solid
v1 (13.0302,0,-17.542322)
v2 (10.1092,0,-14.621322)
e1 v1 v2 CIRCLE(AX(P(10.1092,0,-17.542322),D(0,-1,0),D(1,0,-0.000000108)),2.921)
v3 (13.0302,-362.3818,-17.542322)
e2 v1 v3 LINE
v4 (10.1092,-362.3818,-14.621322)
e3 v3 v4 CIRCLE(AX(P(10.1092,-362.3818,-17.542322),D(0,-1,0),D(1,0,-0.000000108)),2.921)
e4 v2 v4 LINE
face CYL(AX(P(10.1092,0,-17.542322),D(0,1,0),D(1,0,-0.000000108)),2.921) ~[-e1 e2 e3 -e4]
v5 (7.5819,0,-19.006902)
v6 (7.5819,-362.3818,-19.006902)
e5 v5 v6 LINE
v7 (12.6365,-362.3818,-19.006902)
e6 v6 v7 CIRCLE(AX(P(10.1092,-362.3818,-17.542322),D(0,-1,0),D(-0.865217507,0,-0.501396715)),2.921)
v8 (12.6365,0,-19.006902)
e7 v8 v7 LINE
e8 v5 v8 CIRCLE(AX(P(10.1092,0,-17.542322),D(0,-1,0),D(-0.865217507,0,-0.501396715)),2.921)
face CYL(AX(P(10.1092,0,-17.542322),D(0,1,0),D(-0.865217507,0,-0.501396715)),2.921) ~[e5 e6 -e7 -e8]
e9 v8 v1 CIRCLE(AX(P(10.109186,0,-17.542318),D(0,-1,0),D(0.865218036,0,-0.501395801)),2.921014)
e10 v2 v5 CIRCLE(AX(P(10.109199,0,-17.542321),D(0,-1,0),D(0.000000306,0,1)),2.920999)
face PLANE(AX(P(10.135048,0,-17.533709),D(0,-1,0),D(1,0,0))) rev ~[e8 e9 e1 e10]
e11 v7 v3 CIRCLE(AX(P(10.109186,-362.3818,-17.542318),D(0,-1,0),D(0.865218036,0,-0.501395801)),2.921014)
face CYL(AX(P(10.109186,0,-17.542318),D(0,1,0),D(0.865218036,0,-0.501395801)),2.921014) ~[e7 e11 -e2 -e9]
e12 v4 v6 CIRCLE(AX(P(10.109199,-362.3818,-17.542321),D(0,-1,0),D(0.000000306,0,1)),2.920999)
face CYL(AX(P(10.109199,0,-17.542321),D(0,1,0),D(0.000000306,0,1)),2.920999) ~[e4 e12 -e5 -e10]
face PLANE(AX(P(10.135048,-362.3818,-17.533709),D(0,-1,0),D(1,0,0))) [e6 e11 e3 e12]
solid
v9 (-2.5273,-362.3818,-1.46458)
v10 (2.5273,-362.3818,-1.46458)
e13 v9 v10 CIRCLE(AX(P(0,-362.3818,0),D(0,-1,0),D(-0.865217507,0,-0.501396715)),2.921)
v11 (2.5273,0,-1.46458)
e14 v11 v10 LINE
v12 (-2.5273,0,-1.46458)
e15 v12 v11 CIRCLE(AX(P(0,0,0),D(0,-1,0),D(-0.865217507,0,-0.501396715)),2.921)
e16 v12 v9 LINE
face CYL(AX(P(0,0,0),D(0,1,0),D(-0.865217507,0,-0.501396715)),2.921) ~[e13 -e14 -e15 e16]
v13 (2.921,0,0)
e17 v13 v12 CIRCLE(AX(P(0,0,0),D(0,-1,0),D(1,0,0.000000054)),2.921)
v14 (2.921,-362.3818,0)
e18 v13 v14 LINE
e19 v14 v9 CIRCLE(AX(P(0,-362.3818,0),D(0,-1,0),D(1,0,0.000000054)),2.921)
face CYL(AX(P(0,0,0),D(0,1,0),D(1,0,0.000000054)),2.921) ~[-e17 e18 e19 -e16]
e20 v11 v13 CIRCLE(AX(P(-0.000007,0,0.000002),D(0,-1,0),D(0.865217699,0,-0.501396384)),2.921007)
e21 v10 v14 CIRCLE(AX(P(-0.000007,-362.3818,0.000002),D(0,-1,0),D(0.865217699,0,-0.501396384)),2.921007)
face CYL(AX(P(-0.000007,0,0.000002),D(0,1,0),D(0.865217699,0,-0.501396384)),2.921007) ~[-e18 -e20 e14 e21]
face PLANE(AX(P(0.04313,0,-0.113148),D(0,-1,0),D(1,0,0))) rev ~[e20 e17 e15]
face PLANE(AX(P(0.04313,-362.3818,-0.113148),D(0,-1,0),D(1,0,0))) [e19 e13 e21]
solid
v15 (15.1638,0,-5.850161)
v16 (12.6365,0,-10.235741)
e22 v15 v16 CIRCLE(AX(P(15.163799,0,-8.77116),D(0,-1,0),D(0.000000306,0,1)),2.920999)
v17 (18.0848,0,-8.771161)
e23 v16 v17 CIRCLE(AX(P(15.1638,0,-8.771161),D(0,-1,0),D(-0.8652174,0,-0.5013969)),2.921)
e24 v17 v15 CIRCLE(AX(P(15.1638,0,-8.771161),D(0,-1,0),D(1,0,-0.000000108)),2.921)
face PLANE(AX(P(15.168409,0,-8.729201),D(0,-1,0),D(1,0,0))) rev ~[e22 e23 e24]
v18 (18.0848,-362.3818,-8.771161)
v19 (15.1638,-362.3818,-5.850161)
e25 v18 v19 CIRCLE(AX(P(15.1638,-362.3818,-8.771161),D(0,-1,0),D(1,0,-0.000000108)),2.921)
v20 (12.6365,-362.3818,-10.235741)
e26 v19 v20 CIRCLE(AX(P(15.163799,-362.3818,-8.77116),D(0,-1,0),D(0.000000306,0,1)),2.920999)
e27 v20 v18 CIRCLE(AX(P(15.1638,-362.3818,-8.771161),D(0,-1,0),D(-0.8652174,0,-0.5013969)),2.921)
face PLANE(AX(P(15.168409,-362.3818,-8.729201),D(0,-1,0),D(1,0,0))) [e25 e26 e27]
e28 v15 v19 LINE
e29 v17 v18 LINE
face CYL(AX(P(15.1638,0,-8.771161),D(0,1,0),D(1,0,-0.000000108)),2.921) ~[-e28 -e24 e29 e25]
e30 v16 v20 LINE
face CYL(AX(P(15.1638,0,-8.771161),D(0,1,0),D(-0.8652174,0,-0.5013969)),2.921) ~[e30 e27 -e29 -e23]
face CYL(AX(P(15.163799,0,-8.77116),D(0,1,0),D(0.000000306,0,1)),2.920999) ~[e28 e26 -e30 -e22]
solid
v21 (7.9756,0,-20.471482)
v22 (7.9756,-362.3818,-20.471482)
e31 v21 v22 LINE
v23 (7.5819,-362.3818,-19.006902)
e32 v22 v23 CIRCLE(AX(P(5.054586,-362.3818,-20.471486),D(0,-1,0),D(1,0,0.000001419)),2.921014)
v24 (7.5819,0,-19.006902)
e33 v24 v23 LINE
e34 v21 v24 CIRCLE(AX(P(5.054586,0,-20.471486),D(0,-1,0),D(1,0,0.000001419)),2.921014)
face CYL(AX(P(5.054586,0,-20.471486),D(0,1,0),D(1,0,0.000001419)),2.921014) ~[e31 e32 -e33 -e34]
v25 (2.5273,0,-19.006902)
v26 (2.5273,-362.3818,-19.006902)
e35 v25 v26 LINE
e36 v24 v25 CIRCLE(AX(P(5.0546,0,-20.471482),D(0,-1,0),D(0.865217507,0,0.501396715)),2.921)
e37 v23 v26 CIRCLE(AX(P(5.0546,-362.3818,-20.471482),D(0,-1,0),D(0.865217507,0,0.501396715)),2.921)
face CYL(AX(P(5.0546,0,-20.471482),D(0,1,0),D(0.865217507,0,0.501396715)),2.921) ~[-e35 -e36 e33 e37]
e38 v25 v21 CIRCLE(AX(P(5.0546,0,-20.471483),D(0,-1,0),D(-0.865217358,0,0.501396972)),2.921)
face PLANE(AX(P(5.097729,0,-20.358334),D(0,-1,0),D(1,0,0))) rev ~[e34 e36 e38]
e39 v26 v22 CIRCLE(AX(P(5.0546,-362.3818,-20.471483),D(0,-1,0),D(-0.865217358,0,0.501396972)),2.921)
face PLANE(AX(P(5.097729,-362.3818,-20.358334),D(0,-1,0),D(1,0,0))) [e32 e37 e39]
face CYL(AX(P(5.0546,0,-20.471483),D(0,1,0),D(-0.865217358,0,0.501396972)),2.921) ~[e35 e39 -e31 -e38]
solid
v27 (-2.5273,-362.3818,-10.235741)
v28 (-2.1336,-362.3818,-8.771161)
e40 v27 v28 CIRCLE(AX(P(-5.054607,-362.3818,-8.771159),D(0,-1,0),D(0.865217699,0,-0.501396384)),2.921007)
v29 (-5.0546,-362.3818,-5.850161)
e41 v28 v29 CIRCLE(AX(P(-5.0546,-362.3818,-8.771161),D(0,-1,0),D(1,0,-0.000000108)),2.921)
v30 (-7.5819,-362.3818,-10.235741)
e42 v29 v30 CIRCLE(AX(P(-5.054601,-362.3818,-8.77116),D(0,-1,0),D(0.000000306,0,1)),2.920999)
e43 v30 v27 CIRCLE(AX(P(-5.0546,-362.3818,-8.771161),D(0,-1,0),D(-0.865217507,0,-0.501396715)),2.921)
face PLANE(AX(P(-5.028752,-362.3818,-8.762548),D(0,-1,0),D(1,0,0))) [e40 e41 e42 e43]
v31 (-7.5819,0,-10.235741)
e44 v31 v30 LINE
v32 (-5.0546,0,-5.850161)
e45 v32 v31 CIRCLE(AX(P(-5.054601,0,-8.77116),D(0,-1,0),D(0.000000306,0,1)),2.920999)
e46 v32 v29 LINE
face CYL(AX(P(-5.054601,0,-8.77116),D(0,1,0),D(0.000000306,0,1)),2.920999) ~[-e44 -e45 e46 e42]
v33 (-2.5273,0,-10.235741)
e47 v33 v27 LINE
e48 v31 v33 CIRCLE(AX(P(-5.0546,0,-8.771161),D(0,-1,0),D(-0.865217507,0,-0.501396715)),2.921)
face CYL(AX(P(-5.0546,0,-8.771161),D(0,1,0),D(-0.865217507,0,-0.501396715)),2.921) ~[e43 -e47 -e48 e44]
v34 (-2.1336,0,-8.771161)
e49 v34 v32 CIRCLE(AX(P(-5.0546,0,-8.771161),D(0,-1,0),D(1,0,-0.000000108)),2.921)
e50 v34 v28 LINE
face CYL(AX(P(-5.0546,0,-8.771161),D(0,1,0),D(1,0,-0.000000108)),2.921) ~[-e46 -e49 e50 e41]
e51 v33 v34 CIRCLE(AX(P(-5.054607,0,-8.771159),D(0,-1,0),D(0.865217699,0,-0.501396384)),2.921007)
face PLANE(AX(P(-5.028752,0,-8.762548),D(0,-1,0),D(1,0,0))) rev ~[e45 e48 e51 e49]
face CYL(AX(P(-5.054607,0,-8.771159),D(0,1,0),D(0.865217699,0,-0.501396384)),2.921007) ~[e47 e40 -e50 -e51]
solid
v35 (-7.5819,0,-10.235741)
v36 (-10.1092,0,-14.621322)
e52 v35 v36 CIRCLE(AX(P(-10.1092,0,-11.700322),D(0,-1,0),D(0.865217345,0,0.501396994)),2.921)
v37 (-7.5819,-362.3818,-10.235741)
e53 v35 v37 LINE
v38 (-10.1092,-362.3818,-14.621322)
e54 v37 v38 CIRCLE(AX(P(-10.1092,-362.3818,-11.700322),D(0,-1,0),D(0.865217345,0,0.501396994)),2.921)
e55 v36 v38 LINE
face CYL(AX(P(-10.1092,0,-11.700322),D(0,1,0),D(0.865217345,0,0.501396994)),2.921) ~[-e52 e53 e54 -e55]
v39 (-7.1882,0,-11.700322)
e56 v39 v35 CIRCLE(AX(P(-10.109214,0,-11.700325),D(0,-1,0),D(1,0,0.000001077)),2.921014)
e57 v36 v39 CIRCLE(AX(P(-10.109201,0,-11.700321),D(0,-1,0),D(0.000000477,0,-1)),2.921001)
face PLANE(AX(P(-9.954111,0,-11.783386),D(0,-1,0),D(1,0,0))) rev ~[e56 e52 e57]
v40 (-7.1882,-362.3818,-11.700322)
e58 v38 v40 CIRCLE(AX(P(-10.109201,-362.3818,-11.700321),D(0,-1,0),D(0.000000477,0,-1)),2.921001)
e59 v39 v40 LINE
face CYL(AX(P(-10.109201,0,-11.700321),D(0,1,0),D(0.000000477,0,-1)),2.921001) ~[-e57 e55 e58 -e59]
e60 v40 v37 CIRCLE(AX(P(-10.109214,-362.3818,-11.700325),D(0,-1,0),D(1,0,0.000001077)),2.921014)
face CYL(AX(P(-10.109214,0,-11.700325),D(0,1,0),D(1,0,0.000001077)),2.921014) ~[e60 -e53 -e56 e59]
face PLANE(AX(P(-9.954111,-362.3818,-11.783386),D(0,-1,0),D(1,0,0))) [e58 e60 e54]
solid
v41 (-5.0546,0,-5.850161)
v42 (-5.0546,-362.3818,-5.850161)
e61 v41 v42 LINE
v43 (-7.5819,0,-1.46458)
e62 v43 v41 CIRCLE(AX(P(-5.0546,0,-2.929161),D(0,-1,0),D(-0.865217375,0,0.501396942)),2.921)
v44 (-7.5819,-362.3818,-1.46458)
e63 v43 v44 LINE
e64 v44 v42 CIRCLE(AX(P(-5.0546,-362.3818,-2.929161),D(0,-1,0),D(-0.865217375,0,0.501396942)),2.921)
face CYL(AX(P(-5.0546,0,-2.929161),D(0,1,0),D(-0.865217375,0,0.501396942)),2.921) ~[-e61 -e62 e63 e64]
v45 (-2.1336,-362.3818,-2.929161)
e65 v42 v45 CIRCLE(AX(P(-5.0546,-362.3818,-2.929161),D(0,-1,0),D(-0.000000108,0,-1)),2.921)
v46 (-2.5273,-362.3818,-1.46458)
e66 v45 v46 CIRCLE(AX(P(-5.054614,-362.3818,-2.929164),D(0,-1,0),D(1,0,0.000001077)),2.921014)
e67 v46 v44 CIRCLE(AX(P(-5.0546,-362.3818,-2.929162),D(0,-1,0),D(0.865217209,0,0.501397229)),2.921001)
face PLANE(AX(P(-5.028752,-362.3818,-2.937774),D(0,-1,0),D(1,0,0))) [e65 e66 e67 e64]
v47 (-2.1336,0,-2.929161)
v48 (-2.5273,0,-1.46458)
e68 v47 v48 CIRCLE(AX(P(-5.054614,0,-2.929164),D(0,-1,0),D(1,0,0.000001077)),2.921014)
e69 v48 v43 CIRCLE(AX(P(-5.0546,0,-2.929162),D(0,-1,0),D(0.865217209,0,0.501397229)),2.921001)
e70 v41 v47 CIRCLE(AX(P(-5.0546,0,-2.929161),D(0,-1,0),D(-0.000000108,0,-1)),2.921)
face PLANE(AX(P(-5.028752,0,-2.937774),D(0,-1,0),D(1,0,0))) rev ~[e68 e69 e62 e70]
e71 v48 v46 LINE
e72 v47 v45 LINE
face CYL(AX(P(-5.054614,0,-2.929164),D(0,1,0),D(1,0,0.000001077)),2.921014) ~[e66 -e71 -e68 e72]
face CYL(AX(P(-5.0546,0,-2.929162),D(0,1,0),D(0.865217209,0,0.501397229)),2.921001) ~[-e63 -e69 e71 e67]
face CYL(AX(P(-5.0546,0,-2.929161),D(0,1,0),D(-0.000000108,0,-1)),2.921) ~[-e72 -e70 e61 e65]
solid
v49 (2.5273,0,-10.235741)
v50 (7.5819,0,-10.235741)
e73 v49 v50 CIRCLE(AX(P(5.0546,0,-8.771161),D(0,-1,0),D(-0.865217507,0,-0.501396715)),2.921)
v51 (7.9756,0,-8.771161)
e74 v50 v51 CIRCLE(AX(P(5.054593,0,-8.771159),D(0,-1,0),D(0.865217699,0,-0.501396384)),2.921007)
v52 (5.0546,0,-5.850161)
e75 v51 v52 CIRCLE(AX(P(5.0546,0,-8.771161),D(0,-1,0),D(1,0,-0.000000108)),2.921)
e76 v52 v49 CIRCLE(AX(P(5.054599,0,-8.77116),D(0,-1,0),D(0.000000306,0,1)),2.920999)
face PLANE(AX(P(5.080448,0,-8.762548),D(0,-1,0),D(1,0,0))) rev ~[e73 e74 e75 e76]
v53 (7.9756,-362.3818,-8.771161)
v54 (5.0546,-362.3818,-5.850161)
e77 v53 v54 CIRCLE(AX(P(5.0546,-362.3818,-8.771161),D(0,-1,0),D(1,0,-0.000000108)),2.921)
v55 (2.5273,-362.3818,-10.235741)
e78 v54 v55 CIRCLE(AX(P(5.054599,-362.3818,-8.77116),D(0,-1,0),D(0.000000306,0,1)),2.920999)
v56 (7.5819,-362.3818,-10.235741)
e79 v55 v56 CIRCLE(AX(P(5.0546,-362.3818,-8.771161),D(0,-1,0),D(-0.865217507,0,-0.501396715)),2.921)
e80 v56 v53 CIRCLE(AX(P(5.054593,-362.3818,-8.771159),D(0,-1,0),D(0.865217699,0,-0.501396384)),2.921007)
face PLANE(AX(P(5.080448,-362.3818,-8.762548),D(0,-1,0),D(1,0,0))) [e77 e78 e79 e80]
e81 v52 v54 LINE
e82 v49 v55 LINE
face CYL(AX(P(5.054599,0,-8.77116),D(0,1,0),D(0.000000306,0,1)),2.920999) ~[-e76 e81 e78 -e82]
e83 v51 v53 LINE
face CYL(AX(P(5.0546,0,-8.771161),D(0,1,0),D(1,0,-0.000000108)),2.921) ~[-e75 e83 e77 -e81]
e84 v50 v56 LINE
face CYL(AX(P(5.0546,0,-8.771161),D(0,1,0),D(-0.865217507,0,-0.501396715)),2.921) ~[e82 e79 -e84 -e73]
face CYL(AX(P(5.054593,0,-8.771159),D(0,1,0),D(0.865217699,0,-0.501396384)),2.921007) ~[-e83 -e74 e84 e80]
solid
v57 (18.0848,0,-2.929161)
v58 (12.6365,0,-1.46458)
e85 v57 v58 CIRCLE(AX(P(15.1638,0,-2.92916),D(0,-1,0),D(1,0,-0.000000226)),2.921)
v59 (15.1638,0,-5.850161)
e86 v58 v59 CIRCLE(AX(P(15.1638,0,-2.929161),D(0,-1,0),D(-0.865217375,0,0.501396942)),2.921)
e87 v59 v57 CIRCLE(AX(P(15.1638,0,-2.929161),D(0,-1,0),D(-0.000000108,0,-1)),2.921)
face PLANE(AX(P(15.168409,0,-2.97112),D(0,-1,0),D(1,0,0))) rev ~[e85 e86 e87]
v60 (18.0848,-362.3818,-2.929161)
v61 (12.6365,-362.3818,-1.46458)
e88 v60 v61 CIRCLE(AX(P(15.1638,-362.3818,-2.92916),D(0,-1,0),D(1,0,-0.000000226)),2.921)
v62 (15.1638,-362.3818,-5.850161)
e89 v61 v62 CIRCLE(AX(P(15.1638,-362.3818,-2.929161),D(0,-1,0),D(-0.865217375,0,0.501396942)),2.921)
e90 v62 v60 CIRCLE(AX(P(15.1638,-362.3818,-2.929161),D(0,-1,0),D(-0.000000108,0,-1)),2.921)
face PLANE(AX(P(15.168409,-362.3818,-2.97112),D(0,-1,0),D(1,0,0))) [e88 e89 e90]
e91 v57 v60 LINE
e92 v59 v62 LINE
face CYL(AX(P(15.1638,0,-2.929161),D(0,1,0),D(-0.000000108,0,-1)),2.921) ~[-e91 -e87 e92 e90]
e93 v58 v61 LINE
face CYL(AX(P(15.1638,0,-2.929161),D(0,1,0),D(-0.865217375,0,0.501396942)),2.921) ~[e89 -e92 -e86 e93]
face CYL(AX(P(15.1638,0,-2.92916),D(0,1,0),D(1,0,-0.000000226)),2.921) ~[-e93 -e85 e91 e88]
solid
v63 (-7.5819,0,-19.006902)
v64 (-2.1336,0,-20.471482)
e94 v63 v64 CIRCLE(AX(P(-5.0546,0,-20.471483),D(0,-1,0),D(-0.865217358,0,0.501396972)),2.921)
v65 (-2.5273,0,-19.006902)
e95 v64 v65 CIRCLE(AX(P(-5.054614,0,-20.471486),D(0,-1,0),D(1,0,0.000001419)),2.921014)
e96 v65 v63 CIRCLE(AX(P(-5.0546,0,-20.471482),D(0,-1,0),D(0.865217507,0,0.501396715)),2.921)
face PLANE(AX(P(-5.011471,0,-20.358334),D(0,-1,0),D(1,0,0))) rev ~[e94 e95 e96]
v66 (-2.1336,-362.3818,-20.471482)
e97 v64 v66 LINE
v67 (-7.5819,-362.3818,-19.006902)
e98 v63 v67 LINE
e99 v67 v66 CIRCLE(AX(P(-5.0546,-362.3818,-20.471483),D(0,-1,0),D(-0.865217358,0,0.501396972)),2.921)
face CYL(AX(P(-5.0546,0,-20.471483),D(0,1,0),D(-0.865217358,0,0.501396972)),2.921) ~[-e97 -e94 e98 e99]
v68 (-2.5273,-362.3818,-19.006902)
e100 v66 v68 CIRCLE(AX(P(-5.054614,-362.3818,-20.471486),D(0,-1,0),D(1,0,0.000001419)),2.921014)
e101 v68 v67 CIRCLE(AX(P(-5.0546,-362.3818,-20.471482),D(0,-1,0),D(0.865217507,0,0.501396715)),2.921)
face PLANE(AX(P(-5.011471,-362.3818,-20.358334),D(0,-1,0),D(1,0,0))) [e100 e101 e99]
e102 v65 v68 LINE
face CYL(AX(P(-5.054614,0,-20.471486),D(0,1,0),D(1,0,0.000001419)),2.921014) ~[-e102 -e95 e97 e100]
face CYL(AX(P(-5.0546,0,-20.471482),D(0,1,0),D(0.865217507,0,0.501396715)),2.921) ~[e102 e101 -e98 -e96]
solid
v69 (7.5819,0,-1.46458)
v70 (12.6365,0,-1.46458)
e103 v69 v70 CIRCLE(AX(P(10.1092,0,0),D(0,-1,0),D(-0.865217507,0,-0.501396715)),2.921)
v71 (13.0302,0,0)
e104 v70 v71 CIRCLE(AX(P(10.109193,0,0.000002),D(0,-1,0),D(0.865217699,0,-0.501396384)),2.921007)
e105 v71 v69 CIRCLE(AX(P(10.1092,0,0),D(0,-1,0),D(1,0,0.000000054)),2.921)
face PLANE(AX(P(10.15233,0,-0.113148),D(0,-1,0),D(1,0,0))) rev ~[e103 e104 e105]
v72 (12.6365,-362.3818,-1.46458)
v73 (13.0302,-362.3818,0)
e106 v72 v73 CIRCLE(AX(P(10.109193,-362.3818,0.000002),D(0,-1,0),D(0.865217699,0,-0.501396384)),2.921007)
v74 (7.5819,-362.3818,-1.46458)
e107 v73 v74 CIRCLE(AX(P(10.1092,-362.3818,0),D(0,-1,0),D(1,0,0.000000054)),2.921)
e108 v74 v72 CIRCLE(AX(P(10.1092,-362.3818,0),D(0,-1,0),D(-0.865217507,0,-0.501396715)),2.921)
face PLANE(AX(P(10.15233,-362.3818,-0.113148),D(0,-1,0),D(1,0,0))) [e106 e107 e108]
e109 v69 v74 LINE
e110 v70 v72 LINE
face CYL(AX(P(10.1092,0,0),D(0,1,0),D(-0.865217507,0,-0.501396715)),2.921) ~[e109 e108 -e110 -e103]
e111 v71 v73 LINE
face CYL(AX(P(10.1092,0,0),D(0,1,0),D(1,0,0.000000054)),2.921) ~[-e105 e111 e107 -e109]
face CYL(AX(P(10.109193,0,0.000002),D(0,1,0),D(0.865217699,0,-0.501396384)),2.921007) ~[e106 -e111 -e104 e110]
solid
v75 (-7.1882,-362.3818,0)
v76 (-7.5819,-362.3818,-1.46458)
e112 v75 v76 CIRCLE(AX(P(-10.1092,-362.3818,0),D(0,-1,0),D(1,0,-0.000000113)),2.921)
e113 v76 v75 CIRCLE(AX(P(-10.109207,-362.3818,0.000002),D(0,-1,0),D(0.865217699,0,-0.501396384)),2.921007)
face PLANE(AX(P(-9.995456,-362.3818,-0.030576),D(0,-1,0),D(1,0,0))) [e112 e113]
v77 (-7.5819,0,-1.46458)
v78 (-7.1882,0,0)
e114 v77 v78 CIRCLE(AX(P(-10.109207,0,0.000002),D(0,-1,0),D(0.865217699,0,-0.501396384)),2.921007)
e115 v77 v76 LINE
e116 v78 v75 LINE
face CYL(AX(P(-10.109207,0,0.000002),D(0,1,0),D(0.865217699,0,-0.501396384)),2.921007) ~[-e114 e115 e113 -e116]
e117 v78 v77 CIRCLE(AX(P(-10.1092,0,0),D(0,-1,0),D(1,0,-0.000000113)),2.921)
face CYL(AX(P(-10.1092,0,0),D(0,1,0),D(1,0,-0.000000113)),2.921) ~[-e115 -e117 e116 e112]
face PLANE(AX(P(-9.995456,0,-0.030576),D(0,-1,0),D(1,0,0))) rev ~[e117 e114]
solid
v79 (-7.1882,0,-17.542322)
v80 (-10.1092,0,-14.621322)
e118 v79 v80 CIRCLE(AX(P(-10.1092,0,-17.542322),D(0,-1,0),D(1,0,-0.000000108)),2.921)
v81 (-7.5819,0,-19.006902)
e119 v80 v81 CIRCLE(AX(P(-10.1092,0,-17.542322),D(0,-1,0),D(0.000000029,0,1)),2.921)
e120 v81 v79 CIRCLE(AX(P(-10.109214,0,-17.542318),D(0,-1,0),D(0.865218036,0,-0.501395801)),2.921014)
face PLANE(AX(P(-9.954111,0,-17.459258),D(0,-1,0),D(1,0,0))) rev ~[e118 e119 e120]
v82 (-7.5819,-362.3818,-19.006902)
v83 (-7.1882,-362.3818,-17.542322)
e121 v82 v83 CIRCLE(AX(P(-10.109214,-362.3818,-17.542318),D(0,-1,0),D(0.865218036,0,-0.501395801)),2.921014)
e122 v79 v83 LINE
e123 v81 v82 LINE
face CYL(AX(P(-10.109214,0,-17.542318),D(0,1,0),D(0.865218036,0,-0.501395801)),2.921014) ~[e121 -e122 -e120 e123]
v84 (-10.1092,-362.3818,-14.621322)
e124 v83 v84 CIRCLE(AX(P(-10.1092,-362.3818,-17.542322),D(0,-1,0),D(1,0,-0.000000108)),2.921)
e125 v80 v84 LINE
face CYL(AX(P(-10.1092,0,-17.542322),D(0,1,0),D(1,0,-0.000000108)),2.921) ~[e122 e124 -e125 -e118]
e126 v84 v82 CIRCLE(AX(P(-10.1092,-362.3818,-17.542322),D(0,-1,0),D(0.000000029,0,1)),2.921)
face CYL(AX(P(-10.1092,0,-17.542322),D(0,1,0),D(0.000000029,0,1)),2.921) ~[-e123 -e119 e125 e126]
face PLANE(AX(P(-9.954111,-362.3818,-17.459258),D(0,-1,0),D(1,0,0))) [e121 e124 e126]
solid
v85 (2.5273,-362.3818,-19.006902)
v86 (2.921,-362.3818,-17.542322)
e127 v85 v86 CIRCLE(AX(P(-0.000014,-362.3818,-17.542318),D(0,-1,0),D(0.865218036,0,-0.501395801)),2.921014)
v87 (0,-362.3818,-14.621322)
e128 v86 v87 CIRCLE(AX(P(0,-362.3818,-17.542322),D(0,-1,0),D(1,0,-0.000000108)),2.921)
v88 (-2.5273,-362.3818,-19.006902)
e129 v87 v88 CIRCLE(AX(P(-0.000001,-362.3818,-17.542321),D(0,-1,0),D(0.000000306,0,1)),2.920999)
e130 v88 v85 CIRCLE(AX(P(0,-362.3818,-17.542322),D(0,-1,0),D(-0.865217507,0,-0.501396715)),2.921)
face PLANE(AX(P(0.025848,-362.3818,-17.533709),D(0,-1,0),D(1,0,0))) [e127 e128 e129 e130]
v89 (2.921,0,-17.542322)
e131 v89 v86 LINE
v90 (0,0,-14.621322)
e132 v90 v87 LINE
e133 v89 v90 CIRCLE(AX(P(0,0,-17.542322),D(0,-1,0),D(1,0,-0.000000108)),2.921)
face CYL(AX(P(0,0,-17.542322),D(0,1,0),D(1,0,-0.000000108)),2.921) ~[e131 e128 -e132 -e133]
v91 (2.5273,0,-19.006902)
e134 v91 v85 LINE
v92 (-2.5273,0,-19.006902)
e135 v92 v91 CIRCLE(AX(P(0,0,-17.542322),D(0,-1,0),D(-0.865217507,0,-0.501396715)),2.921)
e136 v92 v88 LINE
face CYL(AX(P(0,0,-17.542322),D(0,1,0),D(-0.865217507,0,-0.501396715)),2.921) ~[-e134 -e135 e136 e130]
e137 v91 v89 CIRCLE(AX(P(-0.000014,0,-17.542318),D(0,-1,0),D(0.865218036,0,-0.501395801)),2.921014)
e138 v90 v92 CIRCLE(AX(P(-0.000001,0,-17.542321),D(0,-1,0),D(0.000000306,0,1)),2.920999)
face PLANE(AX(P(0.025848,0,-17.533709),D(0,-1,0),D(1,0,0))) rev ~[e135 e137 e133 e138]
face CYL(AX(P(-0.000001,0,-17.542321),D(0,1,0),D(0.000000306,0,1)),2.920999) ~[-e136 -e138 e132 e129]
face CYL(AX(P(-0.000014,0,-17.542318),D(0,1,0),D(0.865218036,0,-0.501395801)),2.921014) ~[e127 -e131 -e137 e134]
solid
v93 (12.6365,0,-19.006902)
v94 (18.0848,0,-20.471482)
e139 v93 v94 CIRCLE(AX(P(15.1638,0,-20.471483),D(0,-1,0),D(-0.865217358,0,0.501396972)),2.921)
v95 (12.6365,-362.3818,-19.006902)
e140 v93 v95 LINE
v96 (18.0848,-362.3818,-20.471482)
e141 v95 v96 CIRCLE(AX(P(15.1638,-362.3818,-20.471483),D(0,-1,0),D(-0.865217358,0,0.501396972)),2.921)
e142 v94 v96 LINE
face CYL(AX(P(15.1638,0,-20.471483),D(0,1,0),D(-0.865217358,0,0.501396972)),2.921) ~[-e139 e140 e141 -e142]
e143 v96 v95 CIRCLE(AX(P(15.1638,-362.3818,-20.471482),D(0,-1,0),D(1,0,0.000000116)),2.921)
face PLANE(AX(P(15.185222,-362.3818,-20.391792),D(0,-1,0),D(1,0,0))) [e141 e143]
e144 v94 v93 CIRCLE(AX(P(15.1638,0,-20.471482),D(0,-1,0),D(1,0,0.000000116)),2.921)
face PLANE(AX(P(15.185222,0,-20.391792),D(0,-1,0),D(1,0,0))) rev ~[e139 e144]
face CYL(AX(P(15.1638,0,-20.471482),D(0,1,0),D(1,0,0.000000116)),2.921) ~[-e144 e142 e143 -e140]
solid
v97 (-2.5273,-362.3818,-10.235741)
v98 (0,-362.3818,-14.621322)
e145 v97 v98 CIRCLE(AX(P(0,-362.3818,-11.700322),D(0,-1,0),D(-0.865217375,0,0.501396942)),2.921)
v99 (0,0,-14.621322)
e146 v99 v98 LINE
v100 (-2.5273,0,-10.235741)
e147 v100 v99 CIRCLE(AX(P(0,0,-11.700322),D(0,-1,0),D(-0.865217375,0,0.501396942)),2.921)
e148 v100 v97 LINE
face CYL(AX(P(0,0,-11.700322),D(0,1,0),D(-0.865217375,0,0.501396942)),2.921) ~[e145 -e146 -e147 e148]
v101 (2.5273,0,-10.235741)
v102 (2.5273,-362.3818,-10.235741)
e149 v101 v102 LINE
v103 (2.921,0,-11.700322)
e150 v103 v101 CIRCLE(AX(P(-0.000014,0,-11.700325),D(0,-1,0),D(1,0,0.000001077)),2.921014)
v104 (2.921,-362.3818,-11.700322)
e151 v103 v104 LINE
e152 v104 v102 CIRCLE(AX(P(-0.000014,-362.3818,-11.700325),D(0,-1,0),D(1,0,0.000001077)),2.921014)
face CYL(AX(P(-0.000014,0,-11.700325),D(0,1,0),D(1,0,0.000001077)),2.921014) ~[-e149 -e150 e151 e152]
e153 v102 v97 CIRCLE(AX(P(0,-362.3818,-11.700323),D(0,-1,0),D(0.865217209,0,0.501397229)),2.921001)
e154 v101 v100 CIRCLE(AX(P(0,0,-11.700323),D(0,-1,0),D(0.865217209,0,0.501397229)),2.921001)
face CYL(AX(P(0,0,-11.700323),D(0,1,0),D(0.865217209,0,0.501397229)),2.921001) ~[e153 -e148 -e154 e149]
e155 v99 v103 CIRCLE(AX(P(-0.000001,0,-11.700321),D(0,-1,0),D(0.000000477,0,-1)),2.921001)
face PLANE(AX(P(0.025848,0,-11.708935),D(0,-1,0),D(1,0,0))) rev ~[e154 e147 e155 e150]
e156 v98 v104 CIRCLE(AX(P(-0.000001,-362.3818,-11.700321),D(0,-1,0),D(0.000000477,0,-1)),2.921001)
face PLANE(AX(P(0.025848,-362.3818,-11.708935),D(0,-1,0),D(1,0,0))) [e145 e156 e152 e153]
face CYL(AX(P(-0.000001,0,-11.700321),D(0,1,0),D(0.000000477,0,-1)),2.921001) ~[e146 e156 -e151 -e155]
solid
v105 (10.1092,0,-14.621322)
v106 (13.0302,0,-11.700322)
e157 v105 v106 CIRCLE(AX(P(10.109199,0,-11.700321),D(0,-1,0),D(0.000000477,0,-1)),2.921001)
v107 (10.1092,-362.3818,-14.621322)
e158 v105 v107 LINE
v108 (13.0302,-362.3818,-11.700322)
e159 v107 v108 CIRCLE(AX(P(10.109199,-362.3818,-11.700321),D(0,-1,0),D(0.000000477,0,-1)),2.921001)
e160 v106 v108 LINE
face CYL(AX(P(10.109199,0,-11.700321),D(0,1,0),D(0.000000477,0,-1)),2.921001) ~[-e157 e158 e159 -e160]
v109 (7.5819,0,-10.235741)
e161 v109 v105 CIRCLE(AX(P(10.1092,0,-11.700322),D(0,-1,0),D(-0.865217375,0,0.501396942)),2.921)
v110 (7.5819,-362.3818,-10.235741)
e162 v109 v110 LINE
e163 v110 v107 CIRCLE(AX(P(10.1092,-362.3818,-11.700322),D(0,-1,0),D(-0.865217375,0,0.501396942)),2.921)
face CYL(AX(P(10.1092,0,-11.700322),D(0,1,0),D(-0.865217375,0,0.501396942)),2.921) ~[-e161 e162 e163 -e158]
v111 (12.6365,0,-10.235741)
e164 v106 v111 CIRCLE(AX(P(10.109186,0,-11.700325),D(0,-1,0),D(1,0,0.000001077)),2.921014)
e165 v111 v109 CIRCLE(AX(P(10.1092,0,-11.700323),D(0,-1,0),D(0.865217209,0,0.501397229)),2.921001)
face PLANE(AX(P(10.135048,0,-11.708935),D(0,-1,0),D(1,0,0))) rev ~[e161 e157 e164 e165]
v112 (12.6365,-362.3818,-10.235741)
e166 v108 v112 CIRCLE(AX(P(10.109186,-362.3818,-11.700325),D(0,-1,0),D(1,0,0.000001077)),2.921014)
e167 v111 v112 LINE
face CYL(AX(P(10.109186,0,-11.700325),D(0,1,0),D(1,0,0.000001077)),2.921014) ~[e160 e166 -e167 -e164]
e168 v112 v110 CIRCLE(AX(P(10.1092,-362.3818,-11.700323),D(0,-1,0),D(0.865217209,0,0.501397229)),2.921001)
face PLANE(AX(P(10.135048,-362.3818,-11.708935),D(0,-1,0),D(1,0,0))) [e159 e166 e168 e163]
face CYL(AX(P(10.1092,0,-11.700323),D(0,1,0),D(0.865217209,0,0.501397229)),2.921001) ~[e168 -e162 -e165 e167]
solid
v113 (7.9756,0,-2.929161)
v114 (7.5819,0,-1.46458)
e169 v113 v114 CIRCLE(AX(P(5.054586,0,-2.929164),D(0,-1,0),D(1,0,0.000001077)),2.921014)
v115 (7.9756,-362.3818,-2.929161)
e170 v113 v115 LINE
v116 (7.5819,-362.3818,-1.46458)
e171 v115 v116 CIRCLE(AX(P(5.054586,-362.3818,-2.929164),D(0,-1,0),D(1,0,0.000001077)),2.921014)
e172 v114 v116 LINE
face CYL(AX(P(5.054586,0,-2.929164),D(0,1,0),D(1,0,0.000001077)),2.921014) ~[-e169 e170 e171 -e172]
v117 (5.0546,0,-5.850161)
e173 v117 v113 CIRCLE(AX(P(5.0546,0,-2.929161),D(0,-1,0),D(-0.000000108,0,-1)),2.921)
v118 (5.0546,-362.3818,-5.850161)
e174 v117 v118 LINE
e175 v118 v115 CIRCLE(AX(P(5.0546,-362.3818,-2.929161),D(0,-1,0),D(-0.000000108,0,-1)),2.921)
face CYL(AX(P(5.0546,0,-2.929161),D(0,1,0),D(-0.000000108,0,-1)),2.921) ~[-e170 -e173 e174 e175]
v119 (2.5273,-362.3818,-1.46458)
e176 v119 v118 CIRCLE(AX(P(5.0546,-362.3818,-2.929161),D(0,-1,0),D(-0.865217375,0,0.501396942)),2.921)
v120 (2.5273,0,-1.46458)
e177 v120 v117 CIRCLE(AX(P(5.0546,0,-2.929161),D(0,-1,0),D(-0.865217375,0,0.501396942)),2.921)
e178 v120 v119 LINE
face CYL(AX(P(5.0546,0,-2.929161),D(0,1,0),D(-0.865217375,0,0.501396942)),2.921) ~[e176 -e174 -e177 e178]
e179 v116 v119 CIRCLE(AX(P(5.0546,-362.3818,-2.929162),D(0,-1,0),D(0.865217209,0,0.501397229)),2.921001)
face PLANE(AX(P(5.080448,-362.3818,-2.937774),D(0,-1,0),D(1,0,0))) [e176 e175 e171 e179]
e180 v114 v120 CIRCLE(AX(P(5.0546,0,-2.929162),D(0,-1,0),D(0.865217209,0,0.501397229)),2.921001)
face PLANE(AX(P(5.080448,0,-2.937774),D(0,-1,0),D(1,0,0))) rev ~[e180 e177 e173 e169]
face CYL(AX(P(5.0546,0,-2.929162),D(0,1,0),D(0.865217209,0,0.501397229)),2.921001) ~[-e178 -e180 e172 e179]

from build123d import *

# Parameters (mm, degrees)
F1_DEPTH = 362.3818


with BuildPart() as f1:
    # F0 (on Front) → F1 (new body)
    with BuildSketch(Plane.XZ):
        with BuildLine():
            ThreePointArc((7.9756, -8.771161), (7.120059, -6.705702), (5.0546, -5.850161))
            ThreePointArc((5.0546, -5.850161), (2.523762, -7.312702), (2.5273, -10.235741))
            ThreePointArc((2.5273, -10.235741), (5.0546, -11.692161), (7.5819, -10.235741))
            ThreePointArc((7.5819, -10.235741), (7.875458, -9.529448), (7.9756, -8.771161))
        make_face()
        with BuildLine():
            ThreePointArc((12.6365, -10.235741), (10.1092, -8.779322), (7.5819, -10.235741))
            ThreePointArc((7.5819, -10.235741), (7.578362, -13.15878), (10.1092, -14.621322))
            ThreePointArc((10.1092, -14.621322), (12.174659, -13.76578), (13.0302, -11.700322))
            ThreePointArc((13.0302, -11.700322), (12.930058, -10.942035), (12.6365, -10.235741))
        make_face()
        with BuildLine():
            ThreePointArc((-2.1336, -8.771161), (-2.989141, -6.705702), (-5.0546, -5.850161))
            ThreePointArc((-5.0546, -5.850161), (-7.585438, -7.312702), (-7.5819, -10.235741))
            ThreePointArc((-7.5819, -10.235741), (-5.0546, -11.692161), (-2.5273, -10.235741))
            ThreePointArc((-2.5273, -10.235741), (-2.233742, -9.529448), (-2.1336, -8.771161))
        make_face()
        with BuildLine():
            ThreePointArc((7.9756, -20.471482), (7.875458, -19.713196), (7.5819, -19.006902))
            ThreePointArc((7.5819, -19.006902), (5.0546, -17.550482), (2.5273, -19.006902))
            ThreePointArc((2.5273, -19.006902), (4.296313, -23.292341), (7.9756, -20.471482))
        make_face()
        with BuildLine():
            ThreePointArc((-7.1882, -11.700322), (-7.288342, -10.942035), (-7.5819, -10.235741))
            ThreePointArc((-7.5819, -10.235741), (-12.640038, -10.241863), (-10.1092, -14.621322))
            ThreePointArc((-10.1092, -14.621322), (-8.043741, -13.76578), (-7.1882, -11.700322))
        make_face()
        with BuildLine():
            ThreePointArc((-2.5273, -19.006902), (-5.0546, -17.550482), (-7.5819, -19.006902))
            ThreePointArc((-7.5819, -19.006902), (-5.812887, -23.292341), (-2.1336, -20.471482))
            ThreePointArc((-2.1336, -20.471482), (-2.233742, -19.713196), (-2.5273, -19.006902))
        make_face()
        with BuildLine():
            ThreePointArc((2.921, -17.542322), (2.065459, -15.476863), (0, -14.621322))
            ThreePointArc((0, -14.621322), (-2.530838, -16.083863), (-2.5273, -19.006902))
            ThreePointArc((-2.5273, -19.006902), (0, -20.463322), (2.5273, -19.006902))
            ThreePointArc((2.5273, -19.006902), (2.820858, -18.300608), (2.921, -17.542322))
        make_face()
        with BuildLine():
            ThreePointArc((18.0848, -20.471482), (15.922087, -17.650624), (12.6365, -19.006902))
            ThreePointArc((12.6365, -19.006902), (14.405513, -23.292341), (18.0848, -20.471482))
        make_face()
        with BuildLine():
            ThreePointArc((-7.1882, -17.542322), (-8.043741, -15.476863), (-10.1092, -14.621322))
            ThreePointArc((-10.1092, -14.621322), (-12.640038, -19.00078), (-7.5819, -19.006902))
            ThreePointArc((-7.5819, -19.006902), (-7.288342, -18.300608), (-7.1882, -17.542322))
        make_face()
        with BuildLine():
            ThreePointArc((-2.1336, -2.929161), (-2.233742, -2.170874), (-2.5273, -1.46458))
            ThreePointArc((-2.5273, -1.46458), (-5.0546, -0.008161), (-7.5819, -1.46458))
            ThreePointArc((-7.5819, -1.46458), (-7.585438, -4.387619), (-5.0546, -5.850161))
            ThreePointArc((-5.0546, -5.850161), (-2.989141, -4.99462), (-2.1336, -2.929161))
        make_face()
        with BuildLine():
            ThreePointArc((7.5819, -1.46458), (5.0546, -0.008161), (2.5273, -1.46458))
            ThreePointArc((2.5273, -1.46458), (2.523762, -4.387619), (5.0546, -5.850161))
            ThreePointArc((5.0546, -5.850161), (7.120059, -4.99462), (7.9756, -2.929161))
            ThreePointArc((7.9756, -2.929161), (7.875458, -2.170874), (7.5819, -1.46458))
        make_face()
        with BuildLine():
            ThreePointArc((2.921, -11.700322), (2.820858, -10.942035), (2.5273, -10.235741))
            ThreePointArc((2.5273, -10.235741), (0, -8.779322), (-2.5273, -10.235741))
            ThreePointArc((-2.5273, -10.235741), (-2.530838, -13.15878), (0, -14.621322))
            ThreePointArc((0, -14.621322), (2.065459, -13.76578), (2.921, -11.700322))
        make_face()
        with BuildLine():
            ThreePointArc((18.0848, -2.929161), (15.922087, -0.108302), (12.6365, -1.46458))
            ThreePointArc((12.6365, -1.46458), (12.632962, -4.387619), (15.1638, -5.850161))
            ThreePointArc((15.1638, -5.850161), (17.229259, -4.99462), (18.0848, -2.929161))
        make_face()
        with BuildLine():
            ThreePointArc((13.0302, -17.542322), (12.174659, -15.476863), (10.1092, -14.621322))
            ThreePointArc((10.1092, -14.621322), (7.578362, -16.083863), (7.5819, -19.006902))
            ThreePointArc((7.5819, -19.006902), (10.1092, -20.463322), (12.6365, -19.006902))
            ThreePointArc((12.6365, -19.006902), (12.930058, -18.300608), (13.0302, -17.542322))
        make_face()
        with BuildLine():
            ThreePointArc((18.0848, -8.771161), (17.229259, -6.705702), (15.1638, -5.850161))
            ThreePointArc((15.1638, -5.850161), (12.632962, -7.312702), (12.6365, -10.235741))
            ThreePointArc((12.6365, -10.235741), (15.922087, -11.592019), (18.0848, -8.771161))
        make_face()
        with BuildLine():
            ThreePointArc((-7.1882, 0), (-12.930058, 0.758287), (-7.5819, -1.46458))
            ThreePointArc((-7.5819, -1.46458), (-7.288342, -0.758287), (-7.1882, 0))
        make_face()
        with BuildLine():
            ThreePointArc((2.5273, -1.46458), (2.820858, -0.758287), (2.921, 0))
            ThreePointArc((2.921, 0), (-0.758287, 2.820858), (-2.5273, -1.46458))
            ThreePointArc((-2.5273, -1.46458), (0, -2.921), (2.5273, -1.46458))
        make_face()
        with BuildLine():
            ThreePointArc((13.0302, 0), (9.350913, 2.820858), (7.5819, -1.46458))
            ThreePointArc((7.5819, -1.46458), (10.1092, -2.921), (12.6365, -1.46458))
            ThreePointArc((12.6365, -1.46458), (12.930058, -0.758287), (13.0302, 0))
        make_face()
    extrude(amount=F1_DEPTH)


solid = f1.part
